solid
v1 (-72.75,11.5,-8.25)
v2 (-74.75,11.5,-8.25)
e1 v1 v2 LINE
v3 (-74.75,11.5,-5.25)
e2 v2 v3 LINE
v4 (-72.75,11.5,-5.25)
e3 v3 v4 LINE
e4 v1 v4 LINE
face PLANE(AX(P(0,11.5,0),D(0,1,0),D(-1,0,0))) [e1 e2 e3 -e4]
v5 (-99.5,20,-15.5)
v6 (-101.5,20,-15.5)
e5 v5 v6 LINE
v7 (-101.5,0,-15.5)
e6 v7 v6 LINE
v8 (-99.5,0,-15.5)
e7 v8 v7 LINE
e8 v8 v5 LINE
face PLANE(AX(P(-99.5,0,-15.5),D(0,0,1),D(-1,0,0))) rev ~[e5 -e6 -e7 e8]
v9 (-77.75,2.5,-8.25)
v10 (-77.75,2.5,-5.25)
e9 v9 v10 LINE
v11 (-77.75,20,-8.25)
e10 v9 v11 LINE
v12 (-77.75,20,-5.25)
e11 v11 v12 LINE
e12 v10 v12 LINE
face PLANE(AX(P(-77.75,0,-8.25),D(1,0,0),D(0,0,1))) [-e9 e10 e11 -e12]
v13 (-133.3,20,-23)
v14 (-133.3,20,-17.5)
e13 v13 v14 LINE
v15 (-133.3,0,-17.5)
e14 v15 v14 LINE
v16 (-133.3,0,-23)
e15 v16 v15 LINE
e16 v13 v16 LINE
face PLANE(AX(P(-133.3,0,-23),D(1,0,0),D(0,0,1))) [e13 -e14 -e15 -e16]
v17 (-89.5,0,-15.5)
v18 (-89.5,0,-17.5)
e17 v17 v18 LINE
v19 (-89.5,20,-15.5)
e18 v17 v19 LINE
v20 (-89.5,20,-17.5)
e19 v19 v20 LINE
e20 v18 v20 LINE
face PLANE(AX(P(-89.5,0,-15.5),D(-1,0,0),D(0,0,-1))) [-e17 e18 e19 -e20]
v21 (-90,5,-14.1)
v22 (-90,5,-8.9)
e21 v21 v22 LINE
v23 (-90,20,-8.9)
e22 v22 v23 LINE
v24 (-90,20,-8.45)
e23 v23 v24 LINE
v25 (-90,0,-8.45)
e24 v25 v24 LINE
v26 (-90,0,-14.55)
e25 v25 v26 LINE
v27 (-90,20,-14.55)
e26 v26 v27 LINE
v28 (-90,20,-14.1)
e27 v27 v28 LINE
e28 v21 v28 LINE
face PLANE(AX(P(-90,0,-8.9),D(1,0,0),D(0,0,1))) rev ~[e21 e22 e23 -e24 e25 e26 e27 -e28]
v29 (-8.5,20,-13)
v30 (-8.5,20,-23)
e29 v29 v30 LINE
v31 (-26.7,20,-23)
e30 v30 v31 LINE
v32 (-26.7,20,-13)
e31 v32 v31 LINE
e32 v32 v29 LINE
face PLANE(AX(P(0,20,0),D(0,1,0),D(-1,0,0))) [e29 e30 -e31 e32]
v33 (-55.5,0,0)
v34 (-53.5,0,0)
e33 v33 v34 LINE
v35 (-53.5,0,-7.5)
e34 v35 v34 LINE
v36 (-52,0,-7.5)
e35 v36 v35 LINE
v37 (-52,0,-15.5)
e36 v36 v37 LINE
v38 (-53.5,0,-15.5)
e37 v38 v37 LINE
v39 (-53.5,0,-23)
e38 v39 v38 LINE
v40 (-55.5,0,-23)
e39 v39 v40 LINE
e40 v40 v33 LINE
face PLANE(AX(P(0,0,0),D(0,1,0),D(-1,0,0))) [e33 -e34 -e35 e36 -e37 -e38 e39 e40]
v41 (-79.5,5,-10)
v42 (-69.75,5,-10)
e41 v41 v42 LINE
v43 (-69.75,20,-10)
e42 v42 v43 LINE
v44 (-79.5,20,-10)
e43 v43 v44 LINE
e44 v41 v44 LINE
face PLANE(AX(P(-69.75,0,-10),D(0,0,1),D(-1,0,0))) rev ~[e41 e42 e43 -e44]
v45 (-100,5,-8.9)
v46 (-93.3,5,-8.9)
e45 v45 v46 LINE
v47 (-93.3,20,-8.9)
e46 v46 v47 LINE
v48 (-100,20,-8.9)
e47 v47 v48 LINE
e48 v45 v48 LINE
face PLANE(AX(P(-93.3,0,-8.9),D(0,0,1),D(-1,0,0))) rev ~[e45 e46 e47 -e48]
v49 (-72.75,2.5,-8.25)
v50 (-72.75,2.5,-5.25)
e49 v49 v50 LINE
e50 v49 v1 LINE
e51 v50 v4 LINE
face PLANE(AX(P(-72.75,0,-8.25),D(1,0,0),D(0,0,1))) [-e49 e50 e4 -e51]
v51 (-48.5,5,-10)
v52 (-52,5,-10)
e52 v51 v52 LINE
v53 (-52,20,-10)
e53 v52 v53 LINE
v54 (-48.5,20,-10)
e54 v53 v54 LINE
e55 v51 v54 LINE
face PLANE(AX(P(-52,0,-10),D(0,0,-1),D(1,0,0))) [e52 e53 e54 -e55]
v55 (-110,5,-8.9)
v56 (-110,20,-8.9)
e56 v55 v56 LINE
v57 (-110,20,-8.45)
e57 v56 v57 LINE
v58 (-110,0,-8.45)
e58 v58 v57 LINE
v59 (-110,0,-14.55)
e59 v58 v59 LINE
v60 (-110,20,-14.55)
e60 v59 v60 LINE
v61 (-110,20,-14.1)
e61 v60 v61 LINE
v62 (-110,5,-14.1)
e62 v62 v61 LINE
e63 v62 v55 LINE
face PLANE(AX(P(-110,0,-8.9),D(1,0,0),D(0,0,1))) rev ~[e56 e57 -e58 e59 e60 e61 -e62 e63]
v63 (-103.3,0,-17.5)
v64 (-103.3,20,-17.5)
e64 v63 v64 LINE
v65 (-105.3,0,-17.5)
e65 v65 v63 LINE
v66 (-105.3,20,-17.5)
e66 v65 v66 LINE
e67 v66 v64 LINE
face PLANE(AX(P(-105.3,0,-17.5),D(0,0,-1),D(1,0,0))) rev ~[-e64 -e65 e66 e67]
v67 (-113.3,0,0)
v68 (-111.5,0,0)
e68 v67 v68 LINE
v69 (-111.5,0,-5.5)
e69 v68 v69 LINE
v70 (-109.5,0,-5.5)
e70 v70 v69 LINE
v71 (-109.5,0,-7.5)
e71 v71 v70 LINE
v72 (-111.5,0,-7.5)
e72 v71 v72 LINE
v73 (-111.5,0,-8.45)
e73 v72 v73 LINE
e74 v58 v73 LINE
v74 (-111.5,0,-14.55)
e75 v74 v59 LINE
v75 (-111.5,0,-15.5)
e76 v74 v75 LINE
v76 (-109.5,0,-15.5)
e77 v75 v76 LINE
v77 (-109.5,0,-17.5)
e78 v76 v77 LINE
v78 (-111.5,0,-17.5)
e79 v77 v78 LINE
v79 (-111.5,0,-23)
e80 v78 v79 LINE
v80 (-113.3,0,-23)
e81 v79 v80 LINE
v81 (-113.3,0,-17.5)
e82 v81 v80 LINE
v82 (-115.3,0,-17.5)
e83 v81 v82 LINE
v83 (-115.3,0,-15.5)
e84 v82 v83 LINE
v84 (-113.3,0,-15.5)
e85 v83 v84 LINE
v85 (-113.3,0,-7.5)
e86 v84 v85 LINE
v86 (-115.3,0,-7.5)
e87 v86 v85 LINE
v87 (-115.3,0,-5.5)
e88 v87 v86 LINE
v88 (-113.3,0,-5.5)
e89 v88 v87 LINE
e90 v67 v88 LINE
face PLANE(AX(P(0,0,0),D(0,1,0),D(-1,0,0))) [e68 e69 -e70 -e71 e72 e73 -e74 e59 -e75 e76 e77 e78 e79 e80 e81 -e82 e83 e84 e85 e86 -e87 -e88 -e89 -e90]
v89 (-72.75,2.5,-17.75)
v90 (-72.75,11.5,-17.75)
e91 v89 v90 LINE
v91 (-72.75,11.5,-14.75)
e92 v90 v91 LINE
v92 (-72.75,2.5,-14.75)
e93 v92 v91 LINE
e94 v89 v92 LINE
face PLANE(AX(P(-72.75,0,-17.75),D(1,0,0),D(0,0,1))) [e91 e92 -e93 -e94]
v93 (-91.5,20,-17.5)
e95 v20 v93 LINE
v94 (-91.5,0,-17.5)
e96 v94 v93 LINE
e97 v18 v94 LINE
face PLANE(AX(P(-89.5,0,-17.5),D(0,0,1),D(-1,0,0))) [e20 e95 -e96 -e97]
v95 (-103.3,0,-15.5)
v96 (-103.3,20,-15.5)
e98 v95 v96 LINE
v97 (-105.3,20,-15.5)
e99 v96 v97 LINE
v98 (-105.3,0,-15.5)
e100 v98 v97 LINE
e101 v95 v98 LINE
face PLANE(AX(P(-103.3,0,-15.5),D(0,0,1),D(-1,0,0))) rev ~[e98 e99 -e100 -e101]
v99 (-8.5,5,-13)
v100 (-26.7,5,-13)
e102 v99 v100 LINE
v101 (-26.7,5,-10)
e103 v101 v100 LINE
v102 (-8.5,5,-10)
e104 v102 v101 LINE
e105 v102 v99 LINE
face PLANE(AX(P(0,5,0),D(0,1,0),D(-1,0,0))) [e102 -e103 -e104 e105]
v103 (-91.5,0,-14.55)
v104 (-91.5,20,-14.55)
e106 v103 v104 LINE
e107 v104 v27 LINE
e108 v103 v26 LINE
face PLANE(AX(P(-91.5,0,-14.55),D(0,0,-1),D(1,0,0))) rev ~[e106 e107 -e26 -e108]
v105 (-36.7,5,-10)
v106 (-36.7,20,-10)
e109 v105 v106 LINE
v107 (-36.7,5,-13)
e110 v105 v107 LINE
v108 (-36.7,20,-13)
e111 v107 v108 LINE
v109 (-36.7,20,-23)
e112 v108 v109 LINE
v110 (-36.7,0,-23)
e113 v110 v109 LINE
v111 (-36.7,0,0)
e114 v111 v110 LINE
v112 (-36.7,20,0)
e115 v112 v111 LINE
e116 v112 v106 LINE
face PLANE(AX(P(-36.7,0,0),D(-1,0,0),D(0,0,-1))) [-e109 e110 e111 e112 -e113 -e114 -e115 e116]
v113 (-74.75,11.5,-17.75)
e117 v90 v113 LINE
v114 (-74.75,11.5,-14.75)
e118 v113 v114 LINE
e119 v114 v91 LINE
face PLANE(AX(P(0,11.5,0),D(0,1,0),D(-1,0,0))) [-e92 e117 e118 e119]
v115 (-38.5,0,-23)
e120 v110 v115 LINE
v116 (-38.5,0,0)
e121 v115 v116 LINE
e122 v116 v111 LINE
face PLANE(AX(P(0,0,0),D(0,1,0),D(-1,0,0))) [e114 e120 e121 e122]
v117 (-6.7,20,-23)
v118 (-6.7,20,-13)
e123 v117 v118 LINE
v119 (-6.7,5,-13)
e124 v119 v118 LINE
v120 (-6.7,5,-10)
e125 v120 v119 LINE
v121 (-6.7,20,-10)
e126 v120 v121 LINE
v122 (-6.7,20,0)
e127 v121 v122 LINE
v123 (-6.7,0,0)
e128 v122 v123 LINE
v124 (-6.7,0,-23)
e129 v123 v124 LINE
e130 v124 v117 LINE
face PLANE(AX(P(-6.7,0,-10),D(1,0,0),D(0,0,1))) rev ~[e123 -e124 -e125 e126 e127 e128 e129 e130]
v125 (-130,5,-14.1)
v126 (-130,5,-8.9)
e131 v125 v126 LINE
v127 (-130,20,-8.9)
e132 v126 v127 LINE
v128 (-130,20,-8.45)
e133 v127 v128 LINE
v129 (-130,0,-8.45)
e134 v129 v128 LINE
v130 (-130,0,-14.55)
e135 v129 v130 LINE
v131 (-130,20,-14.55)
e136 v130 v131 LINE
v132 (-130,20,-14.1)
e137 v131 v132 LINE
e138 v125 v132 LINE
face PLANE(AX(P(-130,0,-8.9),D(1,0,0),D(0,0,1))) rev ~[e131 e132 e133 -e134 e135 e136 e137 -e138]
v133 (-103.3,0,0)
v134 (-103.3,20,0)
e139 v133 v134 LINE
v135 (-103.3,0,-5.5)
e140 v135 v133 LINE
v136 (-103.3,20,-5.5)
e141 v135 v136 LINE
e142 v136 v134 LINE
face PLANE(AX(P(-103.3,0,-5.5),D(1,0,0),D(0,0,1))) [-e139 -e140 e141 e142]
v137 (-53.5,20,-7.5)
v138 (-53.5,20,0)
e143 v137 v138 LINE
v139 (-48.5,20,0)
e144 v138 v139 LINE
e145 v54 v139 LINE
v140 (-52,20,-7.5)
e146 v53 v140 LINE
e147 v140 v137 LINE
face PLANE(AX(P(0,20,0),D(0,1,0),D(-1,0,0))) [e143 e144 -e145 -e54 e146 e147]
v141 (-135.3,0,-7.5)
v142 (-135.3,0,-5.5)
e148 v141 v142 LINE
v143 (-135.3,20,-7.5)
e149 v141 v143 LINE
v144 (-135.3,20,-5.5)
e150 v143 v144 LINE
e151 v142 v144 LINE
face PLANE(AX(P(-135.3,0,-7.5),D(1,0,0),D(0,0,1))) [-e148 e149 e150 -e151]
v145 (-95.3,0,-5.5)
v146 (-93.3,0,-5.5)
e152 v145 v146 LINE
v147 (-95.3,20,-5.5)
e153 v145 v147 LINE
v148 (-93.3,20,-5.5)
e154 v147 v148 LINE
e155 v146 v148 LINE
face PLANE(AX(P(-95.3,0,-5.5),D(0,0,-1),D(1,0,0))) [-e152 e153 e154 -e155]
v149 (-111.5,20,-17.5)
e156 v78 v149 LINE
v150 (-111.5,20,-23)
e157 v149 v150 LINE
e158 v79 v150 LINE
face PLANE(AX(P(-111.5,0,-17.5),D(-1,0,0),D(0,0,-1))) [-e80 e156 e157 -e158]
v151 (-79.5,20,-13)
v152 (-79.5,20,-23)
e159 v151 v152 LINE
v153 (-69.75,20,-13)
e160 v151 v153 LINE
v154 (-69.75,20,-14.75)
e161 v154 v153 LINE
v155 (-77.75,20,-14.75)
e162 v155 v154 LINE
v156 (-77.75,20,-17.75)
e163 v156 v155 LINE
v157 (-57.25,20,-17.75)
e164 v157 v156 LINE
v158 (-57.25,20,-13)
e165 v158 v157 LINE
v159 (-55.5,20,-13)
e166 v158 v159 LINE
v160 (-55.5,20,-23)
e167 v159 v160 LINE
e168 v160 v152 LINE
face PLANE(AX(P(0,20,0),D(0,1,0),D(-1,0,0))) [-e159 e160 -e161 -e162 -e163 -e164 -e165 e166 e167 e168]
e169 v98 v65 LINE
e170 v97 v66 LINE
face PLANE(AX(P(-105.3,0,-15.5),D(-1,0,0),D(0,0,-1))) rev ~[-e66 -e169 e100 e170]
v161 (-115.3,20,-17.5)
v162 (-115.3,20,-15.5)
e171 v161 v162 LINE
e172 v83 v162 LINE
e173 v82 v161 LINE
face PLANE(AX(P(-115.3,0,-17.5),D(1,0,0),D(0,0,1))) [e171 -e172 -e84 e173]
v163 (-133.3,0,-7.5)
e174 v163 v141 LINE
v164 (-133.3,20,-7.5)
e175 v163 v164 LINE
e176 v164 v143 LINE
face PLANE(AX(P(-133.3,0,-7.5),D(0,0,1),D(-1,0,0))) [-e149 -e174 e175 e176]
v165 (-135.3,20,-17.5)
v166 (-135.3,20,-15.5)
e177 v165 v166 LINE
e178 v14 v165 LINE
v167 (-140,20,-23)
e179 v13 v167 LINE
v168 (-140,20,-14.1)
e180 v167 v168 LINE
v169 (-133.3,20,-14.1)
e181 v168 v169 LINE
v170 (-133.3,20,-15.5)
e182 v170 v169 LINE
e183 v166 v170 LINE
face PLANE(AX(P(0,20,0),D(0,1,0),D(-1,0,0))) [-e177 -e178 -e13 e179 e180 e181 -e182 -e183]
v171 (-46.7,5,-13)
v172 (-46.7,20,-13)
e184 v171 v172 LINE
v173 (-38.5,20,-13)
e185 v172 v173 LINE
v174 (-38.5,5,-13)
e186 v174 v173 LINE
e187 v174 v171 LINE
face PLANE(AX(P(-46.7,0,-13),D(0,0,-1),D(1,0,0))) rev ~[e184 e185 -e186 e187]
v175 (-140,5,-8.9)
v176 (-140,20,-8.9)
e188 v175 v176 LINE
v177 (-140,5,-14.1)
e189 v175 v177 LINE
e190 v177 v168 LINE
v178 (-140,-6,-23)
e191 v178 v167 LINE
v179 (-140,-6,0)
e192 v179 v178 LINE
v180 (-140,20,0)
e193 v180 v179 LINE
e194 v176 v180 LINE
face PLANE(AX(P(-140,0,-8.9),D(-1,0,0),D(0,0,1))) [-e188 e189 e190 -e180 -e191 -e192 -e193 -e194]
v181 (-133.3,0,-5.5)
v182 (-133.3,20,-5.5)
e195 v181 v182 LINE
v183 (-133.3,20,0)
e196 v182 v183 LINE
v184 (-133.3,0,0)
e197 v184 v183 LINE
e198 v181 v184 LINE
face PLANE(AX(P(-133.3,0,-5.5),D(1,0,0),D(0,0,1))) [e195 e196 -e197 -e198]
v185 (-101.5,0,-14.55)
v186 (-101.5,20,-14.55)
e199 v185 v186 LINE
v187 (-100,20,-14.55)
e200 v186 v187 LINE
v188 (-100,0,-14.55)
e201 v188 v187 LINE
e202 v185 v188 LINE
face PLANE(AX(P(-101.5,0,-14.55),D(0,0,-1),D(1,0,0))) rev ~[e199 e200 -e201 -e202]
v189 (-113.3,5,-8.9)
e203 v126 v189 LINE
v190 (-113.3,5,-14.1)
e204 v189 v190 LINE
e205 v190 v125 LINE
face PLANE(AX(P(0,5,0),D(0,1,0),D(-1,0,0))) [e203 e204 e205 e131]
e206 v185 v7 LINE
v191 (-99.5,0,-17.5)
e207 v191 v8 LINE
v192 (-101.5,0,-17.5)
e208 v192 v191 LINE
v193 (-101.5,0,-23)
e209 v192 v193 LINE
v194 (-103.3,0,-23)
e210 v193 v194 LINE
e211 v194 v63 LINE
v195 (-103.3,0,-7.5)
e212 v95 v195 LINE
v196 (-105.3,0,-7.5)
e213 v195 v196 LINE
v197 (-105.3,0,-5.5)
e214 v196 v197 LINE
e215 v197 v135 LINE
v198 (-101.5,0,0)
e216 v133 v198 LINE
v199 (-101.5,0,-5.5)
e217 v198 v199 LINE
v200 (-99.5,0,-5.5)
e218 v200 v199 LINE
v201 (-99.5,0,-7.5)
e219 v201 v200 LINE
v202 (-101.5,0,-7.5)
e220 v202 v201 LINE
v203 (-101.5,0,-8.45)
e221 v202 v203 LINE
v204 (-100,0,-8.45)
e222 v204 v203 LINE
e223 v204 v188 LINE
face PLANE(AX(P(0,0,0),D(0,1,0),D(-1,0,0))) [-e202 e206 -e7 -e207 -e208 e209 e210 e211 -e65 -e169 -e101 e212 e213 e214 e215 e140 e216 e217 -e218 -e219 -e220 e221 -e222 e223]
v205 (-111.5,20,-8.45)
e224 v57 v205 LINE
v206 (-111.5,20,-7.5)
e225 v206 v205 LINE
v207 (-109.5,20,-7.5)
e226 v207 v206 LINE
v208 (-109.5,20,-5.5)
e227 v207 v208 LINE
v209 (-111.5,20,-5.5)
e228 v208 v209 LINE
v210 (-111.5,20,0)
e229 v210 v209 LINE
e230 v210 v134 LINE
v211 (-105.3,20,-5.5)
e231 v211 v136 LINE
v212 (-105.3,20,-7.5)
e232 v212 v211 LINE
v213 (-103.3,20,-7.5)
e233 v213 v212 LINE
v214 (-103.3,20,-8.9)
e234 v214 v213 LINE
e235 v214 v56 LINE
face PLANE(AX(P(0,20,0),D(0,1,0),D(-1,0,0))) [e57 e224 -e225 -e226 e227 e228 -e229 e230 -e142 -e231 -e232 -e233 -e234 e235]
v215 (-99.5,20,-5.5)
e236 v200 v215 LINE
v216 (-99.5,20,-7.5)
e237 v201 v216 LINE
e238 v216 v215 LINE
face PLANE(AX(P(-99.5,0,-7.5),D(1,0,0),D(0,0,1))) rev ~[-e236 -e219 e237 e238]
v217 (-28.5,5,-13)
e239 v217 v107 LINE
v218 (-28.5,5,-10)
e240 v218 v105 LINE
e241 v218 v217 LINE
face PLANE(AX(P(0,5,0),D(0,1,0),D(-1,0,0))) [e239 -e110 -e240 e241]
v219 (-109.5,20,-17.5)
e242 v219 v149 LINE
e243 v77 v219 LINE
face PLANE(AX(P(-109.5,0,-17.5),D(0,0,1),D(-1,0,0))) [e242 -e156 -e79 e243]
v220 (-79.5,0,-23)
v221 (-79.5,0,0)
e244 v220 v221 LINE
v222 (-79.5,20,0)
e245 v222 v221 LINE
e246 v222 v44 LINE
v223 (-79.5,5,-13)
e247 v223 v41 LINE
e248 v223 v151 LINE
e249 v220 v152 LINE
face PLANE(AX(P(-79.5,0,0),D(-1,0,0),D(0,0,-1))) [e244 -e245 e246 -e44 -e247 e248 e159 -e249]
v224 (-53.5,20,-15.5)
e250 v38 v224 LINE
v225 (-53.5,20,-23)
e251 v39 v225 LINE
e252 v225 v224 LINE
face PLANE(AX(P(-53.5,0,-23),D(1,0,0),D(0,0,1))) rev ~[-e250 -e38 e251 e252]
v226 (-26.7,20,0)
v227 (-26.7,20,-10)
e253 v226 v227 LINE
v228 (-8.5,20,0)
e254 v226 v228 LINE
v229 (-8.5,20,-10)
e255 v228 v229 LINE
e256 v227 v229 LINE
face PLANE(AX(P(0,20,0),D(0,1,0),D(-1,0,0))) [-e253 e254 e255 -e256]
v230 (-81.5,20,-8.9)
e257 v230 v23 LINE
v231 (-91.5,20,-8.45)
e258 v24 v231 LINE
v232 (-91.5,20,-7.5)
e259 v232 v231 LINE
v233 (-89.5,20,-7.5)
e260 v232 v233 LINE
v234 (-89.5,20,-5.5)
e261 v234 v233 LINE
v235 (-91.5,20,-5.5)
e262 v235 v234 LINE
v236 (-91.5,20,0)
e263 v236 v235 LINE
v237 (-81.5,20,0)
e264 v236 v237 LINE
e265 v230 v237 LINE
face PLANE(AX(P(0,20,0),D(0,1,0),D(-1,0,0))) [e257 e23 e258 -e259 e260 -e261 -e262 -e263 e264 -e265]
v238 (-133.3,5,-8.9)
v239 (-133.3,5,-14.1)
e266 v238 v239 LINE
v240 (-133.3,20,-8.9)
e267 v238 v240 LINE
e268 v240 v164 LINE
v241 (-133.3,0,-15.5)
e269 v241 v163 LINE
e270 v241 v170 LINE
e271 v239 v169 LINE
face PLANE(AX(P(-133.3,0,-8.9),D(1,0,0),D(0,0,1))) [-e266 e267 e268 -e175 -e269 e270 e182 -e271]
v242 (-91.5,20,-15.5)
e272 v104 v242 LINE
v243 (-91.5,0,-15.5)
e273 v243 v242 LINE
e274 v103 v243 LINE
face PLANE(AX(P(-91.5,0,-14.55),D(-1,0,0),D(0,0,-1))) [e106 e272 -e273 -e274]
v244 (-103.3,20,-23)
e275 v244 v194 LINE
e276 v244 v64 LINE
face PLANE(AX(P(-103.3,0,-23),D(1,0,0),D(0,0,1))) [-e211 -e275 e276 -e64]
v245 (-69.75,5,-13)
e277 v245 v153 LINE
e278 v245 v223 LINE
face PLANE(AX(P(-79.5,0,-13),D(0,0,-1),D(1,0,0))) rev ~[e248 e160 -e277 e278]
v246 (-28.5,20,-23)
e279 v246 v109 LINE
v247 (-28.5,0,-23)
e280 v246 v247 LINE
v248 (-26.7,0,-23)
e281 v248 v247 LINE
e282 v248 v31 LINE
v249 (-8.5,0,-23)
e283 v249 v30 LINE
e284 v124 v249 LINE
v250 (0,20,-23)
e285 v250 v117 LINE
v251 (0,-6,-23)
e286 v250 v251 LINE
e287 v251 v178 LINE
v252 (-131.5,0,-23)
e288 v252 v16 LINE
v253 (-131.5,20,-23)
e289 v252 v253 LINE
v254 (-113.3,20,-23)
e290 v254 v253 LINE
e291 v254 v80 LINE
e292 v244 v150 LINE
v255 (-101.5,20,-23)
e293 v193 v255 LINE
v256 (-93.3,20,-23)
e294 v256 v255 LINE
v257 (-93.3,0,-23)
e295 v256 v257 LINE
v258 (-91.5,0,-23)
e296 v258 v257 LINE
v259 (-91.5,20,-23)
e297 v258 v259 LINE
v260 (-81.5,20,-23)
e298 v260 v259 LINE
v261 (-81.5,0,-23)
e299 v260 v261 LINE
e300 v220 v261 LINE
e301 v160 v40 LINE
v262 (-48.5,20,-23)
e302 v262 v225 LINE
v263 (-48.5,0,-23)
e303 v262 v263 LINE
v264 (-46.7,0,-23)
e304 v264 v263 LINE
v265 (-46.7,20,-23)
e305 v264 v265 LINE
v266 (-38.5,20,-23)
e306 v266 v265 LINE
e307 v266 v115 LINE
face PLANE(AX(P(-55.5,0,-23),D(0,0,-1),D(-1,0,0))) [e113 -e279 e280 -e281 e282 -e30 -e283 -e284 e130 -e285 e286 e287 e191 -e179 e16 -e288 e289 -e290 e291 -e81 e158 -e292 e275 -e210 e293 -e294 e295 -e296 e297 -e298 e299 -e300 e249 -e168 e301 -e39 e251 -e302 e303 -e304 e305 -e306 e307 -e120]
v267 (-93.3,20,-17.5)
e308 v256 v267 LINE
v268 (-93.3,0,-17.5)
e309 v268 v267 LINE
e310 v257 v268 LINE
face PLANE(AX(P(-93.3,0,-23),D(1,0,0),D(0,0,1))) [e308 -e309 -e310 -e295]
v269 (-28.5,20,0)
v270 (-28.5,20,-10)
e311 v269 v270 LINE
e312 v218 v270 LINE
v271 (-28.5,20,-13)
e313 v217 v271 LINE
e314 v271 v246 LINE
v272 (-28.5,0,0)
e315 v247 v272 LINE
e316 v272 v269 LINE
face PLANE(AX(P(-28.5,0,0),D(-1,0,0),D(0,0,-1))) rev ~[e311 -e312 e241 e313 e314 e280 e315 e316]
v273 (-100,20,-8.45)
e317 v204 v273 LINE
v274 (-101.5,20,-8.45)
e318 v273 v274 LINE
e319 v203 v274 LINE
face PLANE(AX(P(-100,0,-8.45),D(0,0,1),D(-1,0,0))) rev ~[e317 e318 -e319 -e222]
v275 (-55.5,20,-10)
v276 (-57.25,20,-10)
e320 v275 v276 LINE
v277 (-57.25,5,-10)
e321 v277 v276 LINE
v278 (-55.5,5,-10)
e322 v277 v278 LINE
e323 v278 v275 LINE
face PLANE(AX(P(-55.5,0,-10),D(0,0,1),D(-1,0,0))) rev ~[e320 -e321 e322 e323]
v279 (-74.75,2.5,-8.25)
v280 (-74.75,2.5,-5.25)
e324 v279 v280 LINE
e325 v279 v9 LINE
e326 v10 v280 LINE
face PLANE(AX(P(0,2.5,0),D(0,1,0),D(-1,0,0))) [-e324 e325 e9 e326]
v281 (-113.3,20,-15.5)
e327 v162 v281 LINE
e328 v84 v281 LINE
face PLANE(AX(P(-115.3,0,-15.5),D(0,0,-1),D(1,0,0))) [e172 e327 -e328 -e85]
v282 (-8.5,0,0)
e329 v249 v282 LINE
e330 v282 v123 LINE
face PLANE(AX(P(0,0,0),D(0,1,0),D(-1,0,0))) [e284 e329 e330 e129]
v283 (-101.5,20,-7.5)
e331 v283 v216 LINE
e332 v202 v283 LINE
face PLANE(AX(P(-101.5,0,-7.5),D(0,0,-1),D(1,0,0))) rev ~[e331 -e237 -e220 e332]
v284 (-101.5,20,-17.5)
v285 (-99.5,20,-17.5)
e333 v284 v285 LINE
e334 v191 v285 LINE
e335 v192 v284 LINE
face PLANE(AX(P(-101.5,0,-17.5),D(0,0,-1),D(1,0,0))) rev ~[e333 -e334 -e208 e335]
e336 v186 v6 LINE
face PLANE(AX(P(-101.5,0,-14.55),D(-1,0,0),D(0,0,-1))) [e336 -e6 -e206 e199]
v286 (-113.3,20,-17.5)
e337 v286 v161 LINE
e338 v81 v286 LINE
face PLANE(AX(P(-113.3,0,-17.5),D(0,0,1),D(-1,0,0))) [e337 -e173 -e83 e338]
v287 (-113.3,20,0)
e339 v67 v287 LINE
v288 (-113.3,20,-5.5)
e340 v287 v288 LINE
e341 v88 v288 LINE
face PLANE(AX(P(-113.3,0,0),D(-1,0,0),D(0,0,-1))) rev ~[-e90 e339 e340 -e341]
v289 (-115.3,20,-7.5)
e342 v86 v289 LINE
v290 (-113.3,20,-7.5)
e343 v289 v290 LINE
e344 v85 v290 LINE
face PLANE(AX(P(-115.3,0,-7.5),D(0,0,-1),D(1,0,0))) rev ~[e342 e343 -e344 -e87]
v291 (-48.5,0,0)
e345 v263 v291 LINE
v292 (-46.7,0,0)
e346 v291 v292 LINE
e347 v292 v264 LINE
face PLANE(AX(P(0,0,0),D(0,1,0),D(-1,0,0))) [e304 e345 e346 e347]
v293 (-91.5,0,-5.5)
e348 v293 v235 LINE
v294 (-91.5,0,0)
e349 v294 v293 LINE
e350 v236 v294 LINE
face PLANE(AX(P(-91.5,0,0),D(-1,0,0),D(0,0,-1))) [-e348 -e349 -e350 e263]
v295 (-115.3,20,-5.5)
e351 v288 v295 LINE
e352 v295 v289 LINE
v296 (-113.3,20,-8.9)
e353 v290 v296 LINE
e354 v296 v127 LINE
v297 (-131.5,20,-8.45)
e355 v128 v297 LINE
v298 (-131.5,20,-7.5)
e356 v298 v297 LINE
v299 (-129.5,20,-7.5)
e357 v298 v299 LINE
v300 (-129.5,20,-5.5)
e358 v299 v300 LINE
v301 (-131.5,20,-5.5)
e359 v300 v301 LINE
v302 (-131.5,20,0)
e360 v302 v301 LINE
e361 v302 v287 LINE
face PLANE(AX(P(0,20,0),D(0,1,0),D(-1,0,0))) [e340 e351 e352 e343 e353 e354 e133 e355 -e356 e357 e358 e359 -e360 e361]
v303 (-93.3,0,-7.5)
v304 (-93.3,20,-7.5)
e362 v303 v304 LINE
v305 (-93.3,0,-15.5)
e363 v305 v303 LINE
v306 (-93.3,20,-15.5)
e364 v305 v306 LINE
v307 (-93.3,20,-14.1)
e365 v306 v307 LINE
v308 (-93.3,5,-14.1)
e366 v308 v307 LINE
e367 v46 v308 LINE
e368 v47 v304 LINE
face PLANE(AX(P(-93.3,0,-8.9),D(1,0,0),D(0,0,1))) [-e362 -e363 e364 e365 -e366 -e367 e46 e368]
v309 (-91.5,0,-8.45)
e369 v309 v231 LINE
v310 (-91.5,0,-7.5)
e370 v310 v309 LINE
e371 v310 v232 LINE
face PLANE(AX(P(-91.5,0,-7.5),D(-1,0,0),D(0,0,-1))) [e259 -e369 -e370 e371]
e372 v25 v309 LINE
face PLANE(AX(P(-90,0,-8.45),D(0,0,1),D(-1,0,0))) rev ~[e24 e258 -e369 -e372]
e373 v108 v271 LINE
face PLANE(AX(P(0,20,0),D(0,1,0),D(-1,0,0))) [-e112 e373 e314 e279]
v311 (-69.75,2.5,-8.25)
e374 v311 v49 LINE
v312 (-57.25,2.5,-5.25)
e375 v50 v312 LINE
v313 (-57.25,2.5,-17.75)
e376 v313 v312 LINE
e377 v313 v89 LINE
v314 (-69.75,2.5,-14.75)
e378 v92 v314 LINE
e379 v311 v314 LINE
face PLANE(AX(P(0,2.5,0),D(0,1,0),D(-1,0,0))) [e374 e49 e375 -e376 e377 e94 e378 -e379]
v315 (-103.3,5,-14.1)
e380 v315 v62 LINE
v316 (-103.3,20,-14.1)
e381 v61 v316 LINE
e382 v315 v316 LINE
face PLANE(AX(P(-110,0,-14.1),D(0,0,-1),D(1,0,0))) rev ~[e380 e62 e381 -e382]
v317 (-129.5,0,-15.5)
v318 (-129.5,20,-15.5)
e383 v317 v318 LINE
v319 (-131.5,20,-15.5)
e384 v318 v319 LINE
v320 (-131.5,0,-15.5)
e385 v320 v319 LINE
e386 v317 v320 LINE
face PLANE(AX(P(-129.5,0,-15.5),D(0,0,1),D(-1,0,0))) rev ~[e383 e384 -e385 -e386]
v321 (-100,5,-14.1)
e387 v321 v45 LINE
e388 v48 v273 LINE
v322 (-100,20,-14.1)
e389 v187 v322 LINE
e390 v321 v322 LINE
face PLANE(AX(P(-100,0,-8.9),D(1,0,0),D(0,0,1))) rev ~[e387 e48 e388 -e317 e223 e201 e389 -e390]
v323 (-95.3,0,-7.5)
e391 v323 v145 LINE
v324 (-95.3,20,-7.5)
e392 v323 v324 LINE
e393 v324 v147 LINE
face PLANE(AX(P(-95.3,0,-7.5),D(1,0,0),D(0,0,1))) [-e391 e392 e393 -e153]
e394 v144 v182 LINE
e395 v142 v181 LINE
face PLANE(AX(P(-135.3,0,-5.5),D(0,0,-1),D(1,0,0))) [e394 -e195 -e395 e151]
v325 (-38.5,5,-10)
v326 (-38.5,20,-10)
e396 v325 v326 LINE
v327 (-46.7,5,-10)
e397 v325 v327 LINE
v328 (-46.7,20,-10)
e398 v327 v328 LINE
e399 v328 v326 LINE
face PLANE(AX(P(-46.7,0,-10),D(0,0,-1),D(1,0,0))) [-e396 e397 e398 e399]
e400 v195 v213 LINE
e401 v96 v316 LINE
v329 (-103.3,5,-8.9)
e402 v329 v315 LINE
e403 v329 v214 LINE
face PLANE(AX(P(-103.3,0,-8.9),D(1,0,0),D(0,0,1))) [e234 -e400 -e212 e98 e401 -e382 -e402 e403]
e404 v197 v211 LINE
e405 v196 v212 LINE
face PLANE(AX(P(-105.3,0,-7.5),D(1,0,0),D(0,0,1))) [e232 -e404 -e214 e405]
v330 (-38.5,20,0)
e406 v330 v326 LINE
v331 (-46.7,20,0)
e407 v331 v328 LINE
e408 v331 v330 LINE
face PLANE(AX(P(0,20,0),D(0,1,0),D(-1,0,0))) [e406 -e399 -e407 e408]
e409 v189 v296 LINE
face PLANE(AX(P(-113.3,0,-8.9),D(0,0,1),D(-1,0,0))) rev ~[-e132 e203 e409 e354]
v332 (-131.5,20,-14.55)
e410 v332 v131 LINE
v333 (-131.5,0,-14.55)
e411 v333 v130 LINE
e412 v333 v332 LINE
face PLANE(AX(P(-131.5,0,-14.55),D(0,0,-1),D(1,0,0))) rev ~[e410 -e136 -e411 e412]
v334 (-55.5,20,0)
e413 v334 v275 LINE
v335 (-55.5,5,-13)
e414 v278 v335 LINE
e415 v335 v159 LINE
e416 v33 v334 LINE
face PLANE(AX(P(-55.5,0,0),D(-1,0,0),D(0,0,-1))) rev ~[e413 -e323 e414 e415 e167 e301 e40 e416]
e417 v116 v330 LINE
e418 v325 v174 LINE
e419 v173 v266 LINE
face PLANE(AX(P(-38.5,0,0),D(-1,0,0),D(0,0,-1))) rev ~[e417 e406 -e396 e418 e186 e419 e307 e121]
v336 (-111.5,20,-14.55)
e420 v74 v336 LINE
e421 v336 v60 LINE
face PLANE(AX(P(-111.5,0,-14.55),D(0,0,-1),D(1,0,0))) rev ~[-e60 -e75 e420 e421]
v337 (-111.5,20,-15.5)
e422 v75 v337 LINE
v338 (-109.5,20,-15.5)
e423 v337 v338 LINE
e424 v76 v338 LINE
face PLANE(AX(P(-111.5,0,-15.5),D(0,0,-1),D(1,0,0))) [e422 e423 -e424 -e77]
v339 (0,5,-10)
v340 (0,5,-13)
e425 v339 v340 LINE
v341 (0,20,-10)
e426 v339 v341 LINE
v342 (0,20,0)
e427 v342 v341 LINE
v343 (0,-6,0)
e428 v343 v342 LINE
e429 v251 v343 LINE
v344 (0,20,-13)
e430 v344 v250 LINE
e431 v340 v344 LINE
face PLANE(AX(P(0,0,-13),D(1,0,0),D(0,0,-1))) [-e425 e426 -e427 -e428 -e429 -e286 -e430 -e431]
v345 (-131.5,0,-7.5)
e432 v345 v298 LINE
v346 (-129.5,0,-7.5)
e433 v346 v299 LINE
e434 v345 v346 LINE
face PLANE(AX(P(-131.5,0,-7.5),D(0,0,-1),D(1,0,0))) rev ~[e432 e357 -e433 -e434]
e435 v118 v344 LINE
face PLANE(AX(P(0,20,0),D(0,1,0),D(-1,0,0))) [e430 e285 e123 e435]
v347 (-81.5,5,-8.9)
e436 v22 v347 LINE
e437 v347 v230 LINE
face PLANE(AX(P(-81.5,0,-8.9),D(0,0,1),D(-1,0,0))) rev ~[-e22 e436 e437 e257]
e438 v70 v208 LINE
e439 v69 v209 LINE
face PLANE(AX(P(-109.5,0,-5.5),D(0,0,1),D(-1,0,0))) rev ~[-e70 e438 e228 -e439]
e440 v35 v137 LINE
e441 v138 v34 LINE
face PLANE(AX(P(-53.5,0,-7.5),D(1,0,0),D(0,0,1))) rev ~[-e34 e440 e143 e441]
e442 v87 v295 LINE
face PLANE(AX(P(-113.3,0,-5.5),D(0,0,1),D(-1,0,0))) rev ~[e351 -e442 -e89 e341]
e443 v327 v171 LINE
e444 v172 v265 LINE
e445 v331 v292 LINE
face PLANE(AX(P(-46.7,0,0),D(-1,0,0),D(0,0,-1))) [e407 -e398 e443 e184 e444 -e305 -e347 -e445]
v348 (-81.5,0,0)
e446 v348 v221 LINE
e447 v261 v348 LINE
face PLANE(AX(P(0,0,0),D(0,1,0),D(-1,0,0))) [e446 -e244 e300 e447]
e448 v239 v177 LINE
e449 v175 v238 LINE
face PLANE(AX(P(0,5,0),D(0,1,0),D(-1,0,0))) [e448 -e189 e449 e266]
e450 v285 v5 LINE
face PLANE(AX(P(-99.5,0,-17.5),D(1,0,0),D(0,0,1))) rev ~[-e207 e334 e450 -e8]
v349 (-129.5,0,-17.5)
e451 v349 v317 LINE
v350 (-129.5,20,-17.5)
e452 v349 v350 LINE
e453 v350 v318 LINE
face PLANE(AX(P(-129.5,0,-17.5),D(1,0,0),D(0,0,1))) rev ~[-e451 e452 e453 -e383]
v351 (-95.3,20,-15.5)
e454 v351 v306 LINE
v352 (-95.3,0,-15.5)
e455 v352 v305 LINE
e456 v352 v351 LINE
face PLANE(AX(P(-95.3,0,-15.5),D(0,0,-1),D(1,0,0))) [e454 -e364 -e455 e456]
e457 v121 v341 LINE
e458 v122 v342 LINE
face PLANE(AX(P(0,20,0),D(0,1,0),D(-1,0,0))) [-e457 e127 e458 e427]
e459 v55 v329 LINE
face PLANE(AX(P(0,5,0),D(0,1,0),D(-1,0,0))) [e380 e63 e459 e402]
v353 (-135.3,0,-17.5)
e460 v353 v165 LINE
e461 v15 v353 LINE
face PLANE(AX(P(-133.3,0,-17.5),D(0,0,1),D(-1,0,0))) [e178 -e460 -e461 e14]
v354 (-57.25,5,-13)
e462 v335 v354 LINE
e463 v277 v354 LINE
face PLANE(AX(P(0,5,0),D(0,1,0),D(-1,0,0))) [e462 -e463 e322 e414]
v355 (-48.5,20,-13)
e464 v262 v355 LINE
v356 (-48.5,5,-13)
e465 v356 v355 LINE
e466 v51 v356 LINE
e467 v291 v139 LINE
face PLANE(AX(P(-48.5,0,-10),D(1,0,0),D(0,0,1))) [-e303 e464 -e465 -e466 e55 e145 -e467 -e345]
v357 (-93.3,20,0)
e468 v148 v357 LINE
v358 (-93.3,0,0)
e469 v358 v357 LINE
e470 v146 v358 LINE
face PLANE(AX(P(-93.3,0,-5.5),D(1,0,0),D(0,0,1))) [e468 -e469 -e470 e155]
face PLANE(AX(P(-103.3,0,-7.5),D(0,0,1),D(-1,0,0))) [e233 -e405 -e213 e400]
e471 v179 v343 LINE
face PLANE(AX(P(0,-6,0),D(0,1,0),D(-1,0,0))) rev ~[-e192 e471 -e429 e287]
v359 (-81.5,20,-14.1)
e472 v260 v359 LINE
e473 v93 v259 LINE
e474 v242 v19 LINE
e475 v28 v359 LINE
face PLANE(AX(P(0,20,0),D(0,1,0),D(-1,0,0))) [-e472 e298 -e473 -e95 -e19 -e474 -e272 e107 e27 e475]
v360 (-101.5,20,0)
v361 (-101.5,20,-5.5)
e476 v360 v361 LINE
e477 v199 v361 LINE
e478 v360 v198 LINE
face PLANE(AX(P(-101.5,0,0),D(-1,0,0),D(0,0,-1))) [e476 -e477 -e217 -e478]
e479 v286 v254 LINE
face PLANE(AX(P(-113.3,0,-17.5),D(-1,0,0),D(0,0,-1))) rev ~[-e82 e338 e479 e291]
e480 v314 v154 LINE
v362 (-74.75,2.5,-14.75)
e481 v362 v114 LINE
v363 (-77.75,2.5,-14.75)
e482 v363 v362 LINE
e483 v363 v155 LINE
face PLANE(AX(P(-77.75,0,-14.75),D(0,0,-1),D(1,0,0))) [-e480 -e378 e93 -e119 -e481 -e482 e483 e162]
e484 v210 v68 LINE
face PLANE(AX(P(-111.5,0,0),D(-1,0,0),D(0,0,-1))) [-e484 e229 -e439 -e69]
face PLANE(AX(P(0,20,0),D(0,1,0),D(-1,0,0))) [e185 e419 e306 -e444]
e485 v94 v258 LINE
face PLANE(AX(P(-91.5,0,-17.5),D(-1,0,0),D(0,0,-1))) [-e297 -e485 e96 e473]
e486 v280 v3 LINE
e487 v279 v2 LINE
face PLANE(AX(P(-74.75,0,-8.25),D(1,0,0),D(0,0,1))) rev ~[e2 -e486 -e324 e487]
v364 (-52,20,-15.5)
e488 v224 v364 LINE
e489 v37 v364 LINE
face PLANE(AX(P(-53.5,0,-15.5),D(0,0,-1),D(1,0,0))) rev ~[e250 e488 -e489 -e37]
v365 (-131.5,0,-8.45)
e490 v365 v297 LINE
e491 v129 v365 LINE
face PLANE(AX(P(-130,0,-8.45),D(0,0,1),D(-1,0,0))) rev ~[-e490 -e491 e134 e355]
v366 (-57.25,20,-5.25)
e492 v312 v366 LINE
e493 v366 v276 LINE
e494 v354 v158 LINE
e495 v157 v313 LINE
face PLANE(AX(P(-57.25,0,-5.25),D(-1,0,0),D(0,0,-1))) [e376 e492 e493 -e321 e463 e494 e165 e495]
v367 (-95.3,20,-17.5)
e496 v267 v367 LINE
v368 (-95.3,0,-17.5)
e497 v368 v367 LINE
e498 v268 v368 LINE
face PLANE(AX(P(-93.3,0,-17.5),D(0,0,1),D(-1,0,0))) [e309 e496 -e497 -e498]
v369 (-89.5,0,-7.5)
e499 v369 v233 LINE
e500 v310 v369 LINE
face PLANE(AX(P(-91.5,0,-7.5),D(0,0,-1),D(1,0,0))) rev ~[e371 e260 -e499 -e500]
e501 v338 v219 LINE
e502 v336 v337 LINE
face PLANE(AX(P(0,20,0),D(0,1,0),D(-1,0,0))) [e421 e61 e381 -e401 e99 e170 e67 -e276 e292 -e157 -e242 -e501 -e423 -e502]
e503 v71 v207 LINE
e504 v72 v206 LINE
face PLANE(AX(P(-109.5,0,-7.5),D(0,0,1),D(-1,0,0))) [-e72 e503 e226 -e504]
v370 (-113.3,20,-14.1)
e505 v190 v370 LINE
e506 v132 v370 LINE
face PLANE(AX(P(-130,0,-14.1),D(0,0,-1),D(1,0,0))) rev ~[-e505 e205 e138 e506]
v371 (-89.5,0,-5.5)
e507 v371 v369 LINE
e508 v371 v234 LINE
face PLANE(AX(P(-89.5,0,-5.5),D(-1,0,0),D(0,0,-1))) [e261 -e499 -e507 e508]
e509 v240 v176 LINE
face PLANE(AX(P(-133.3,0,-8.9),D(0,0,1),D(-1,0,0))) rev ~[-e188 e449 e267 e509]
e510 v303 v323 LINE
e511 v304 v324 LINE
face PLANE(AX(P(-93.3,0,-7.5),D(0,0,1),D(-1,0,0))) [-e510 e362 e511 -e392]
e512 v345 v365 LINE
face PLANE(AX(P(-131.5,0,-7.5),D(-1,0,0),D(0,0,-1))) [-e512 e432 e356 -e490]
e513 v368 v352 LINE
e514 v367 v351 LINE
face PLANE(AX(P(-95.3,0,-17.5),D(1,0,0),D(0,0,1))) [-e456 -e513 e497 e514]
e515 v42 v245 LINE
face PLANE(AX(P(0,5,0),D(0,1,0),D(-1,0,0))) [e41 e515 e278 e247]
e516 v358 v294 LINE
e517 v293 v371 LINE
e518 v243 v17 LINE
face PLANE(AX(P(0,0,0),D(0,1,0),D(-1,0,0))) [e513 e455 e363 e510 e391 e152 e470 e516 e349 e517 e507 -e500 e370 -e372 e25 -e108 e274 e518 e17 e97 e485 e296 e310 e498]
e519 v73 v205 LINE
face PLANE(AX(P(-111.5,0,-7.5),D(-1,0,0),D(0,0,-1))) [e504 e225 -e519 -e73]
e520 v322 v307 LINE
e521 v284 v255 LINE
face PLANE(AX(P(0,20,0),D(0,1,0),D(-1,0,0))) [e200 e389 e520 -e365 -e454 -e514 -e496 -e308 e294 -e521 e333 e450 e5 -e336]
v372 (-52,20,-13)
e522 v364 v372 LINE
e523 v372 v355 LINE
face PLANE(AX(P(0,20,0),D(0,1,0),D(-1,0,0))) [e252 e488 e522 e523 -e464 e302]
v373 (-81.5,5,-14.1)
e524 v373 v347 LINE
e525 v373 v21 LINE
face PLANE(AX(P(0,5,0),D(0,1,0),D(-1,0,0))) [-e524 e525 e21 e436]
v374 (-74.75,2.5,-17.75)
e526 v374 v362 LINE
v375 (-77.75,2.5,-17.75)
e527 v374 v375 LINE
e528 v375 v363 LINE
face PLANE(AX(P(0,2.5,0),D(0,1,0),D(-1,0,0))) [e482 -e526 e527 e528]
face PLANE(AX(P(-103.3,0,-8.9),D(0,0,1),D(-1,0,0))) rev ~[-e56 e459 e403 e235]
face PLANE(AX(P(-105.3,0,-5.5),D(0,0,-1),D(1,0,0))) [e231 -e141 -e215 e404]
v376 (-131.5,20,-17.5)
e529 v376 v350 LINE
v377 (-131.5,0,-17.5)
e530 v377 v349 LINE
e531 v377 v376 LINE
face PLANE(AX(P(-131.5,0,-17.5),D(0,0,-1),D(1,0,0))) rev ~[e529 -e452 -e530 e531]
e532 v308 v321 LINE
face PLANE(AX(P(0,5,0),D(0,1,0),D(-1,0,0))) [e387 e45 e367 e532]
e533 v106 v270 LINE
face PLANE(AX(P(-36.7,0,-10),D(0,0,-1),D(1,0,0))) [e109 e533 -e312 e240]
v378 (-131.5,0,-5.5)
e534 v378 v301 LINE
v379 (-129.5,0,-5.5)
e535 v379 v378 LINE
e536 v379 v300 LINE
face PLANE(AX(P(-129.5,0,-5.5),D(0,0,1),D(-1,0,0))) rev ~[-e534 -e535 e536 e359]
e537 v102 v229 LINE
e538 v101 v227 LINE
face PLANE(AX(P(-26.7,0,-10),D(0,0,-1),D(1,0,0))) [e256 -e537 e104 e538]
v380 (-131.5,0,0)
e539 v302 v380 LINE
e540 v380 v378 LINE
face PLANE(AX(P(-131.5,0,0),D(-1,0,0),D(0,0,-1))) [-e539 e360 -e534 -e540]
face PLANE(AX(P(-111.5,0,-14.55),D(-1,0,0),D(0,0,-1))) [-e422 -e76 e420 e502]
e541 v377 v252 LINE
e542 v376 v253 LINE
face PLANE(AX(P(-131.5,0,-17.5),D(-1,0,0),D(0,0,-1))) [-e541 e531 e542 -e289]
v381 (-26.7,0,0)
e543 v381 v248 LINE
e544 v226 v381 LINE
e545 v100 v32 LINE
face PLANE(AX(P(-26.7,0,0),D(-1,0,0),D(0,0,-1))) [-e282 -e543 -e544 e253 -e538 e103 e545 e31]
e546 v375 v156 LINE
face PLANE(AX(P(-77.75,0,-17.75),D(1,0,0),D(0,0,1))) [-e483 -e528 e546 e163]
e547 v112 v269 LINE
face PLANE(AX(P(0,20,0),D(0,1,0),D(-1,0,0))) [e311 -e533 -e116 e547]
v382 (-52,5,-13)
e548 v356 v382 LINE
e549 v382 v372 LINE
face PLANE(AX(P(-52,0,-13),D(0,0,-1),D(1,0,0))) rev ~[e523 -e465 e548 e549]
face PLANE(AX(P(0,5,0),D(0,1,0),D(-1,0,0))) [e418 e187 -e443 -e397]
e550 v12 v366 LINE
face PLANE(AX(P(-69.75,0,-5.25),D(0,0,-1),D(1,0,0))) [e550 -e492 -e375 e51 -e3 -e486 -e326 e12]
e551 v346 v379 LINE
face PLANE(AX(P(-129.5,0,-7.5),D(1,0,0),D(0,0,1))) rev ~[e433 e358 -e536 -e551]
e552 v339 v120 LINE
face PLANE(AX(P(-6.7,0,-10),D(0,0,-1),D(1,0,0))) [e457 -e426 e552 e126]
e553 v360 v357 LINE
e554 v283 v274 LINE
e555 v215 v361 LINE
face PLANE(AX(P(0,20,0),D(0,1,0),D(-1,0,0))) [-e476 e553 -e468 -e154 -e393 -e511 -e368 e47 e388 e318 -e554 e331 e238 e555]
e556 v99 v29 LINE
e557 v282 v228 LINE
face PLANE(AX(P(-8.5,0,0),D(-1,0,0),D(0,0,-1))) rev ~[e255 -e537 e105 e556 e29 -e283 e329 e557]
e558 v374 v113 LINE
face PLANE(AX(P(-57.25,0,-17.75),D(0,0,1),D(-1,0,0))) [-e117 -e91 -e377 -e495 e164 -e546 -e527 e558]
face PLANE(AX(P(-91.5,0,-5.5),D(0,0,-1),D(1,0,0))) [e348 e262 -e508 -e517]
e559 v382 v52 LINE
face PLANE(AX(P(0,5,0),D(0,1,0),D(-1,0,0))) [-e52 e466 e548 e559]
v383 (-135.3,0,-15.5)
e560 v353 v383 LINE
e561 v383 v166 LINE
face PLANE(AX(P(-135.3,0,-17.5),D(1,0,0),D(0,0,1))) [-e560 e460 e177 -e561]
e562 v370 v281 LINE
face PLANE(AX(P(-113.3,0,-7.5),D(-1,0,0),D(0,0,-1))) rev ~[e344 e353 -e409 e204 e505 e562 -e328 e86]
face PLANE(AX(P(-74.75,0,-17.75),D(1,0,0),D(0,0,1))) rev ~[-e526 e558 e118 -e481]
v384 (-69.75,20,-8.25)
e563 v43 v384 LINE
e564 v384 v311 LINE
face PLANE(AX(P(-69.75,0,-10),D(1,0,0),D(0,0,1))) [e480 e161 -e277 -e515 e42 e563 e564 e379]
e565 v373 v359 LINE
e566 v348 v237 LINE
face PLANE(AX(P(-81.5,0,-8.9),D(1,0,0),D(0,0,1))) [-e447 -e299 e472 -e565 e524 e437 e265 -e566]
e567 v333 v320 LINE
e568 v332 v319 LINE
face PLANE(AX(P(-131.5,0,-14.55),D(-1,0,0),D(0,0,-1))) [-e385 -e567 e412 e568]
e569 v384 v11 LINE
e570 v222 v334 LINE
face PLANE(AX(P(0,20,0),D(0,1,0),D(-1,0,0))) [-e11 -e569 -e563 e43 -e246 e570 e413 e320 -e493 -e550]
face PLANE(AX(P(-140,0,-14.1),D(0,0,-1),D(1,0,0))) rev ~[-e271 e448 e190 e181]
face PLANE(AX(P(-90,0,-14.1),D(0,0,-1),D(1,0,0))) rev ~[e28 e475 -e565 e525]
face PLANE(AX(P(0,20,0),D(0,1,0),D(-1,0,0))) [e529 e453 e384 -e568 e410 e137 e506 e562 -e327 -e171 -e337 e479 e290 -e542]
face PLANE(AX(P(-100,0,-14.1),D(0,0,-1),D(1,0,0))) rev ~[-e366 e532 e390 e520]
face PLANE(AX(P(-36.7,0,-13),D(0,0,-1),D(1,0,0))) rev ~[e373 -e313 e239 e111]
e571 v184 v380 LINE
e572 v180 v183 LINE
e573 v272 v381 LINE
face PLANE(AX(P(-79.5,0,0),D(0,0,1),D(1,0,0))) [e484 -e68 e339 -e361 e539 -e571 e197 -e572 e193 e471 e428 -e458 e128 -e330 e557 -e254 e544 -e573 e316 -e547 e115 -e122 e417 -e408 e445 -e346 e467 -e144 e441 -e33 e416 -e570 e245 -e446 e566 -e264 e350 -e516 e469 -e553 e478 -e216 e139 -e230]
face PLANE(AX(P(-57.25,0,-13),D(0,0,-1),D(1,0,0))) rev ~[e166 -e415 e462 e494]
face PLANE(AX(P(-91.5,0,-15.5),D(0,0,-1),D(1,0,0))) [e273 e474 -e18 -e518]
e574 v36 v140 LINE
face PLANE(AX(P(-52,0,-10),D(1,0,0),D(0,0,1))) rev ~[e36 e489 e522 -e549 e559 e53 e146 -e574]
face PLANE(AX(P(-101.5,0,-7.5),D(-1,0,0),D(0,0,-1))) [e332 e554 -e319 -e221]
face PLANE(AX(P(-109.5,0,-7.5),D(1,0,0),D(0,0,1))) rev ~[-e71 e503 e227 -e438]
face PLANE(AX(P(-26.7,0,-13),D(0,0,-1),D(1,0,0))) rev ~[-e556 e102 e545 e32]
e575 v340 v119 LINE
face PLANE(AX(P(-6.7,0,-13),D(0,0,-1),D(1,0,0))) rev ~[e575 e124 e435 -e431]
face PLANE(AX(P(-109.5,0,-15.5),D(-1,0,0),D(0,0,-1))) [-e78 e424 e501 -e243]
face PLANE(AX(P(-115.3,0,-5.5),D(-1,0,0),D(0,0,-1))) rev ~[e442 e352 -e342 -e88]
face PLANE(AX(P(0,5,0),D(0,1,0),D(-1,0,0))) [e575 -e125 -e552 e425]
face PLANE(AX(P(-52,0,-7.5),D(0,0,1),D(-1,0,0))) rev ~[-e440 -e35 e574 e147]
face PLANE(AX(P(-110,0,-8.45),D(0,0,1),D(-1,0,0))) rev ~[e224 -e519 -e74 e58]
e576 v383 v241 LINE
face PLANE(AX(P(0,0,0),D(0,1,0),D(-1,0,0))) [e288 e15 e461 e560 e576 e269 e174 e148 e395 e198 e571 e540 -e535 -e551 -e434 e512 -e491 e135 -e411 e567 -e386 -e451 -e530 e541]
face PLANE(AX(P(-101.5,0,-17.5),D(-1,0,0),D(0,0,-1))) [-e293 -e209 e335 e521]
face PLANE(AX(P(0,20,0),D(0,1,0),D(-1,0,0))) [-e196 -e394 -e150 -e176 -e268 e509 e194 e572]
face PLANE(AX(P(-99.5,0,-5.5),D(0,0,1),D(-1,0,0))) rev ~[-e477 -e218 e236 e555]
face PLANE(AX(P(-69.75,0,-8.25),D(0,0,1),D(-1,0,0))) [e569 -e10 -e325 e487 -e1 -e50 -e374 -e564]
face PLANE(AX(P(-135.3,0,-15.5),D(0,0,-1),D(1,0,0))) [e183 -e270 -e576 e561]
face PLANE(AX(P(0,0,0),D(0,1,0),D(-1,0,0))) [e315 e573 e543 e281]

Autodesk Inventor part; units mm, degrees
ref_plane "YZ Plane" through (0, 0, 0) normal (1, 0, 0) x (0, 1, 0)
ref_plane "XZ Plane" through (0, 0, 0) normal (0, 1, 0) x (-1, 0, 0)
ref_plane "XY Plane" through (0, 0, 0) normal (0, 0, 1) x (1, 0, 0)
sketch "Sketch1" plane through (0, 0, 0) normal (0, 1, 0) x (-1, 0, 0)
  line L0 (69.75, -5.25) -> (57.25, -5.25)
  line L1 (57.25, -5.25) -> (57.25, -17.75)
  line L2 (57.25, -17.75) -> (69.75, -17.75)
  line L3 (69.75, -17.75) -> (69.75, -5.25)
  line L4 (140, 0) -> (0, 0)
  line L5 (0, 0) -> (0, -23)
  line L6 (0, -23) -> (140, -23)
  line L7 (140, -23) -> (140, 0)
  line L8 (77.3838, -11.5) -> (49.3838, -11.5) construction
  line L9 (63.5, -2.25) -> (63.5, -23.25) construction
  line L10 (81.5, -8.9) -> (140, -8.9)
  line L11 (140, -14.1) -> (81.5, -14.1)
  line L12 (48.5, -23) -> (48.5, 0)
  line L13 (46.7, 0) -> (46.7, -23)
  line L14 (38.5, 0) -> (38.5, -23)
  line L15 (36.7, 0) -> (36.7, -23)
  line L16 (28.5, 0) -> (28.5, -23)
  line L17 (26.7, 0) -> (26.7, -23)
  line L18 (8.5, 0) -> (8.5, -23)
  line L19 (6.7, -23) -> (6.7, 0)
  line L20 (52, -10) -> (0, -10)
  line L21 (52, -13) -> (0, -13)
  line L22 (91.5, -14.55) -> (90, -14.55)
  line L23 (90, -14.55) -> (90, -8.45)
  line L24 (90, -8.45) -> (91.5, -8.45)
  line L25 (101.5, -14.55) -> (100, -14.55)
  line L26 (100, -14.55) -> (100, -8.45)
  line L27 (100, -8.45) -> (101.5, -8.45)
  line L28 (111.5, -14.55) -> (110, -14.55)
  line L29 (110, -14.55) -> (110, -8.45)
  line L30 (110, -8.45) -> (111.5, -8.45)
  line L31 (131.5, -14.55) -> (130, -14.55)
  line L32 (130, -14.55) -> (130, -8.45)
  line L33 (130, -8.45) -> (131.5, -8.45)
  line L34 (79.5, 0) -> (79.5, -23)
  line L35 (81.5, -23) -> (81.5, 0)
  line L36 (55.5, 0) -> (55.5, -23)
  line L37 (79.5, -13) -> (69.75, -13)
  line L38 (69.75, -10) -> (79.5, -10)
  line L39 (57.25, -13) -> (55.5, -13)
  line L40 (55.5, -10) -> (57.25, -10)
  line L41 (53.5, -15.5) -> (52, -15.5)
  line L42 (52, -15.5) -> (52, -7.5)
  line L43 (52, -7.5) -> (53.5, -7.5)
  line L44 (53.5, -23) -> (53.5, -15.5)
  line L45 (53.5, -7.5) -> (53.5, 0)
  line L46 (131.5, -17.5) -> (129.5, -17.5)
  line L47 (129.5, -17.5) -> (129.5, -15.5)
  line L48 (129.5, -15.5) -> (131.5, -15.5)
  line L49 (131.5, -7.5) -> (129.5, -7.5)
  line L50 (129.5, -7.5) -> (129.5, -5.5)
  line L51 (129.5, -5.5) -> (131.5, -5.5)
  line L52 (137, -16.5) -> (85, -16.5) construction
  line L53 (137, -6.5) -> (84.6621, -6.5) construction
  line L54 (133.3, -17.5) -> (135.3, -17.5)
  line L55 (135.3, -17.5) -> (135.3, -15.5)
  line L56 (135.3, -15.5) -> (133.3, -15.5)
  line L57 (133.3, -7.5) -> (135.3, -7.5)
  line L58 (135.3, -7.5) -> (135.3, -5.5)
  line L59 (135.3, -5.5) -> (133.3, -5.5)
  line L60 (133.3, -23) -> (133.3, -17.5)
  line L61 (131.5, -17.5) -> (131.5, -23)
  line L62 (133.3, -15.5) -> (133.3, -7.5)
  line L63 (133.3, -5.5) -> (133.3, 0)
  line L64 (131.5, 0) -> (131.5, -5.5)
  line L65 (131.5, -7.5) -> (131.5, -15.5)
  line L66 (111.5, -15.5) -> (109.5, -15.5)
  line L67 (109.5, -15.5) -> (109.5, -17.5)
  line L68 (115.3, -17.5) -> (115.3, -15.5)
  line L69 (115.3, -15.5) -> (113.3, -15.5)
  line L70 (113.3, -5.5) -> (115.3, -5.5)
  line L71 (115.3, -5.5) -> (115.3, -7.5)
  line L72 (115.3, -7.5) -> (113.3, -7.5)
  line L73 (109.5, -7.5) -> (109.5, -5.5)
  line L74 (109.5, -7.5) -> (111.5, -7.5)
  line L75 (109.5, -5.5) -> (111.5, -5.5)
  line L76 (109.5, -17.5) -> (111.5, -17.5)
  line L77 (113.3, -17.5) -> (115.3, -17.5)
  line L78 (113.3, -17.5) -> (113.3, -23)
  line L79 (111.5, -17.5) -> (111.5, -23)
  line L80 (113.3, 0) -> (113.3, -5.5)
  line L81 (113.3, -7.5) -> (113.3, -15.5)
  line L82 (111.5, 0) -> (111.5, -5.5)
  line L83 (111.5, -7.5) -> (111.5, -15.5)
  line L84 (99.5, -17.5) -> (99.5, -15.5)
  line L85 (105.3, -15.5) -> (105.3, -17.5)
  line L86 (105.3, -17.5) -> (103.3, -17.5)
  line L87 (101.5, -17.5) -> (99.5, -17.5)
  line L88 (99.5, -15.5) -> (101.5, -15.5)
  line L89 (103.3, -15.5) -> (105.3, -15.5)
  line L90 (103.3, -7.5) -> (105.3, -7.5)
  line L91 (105.3, -7.5) -> (105.3, -5.5)
  line L92 (105.3, -5.5) -> (103.3, -5.5)
  line L93 (101.5, -7.5) -> (99.5, -7.5)
  line L94 (99.5, -7.5) -> (99.5, -5.5)
  line L95 (99.5, -5.5) -> (101.5, -5.5)
  line L96 (103.3, -23) -> (103.3, -17.5)
  line L97 (101.5, -17.5) -> (101.5, -23)
  line L98 (103.3, -15.5) -> (103.3, -7.5)
  line L99 (103.3, -5.5) -> (103.3, 0)
  line L100 (101.5, 0) -> (101.5, -5.5)
  line L101 (101.5, -7.5) -> (101.5, -15.5)
  line L102 (91.5, -15.5) -> (89.5, -15.5)
  line L103 (89.5, -15.5) -> (89.5, -17.5)
  line L104 (89.5, -17.5) -> (91.5, -17.5)
  line L105 (93.3, -17.5) -> (95.3, -17.5)
  line L106 (95.3, -17.5) -> (95.3, -15.5)
  line L107 (95.3, -15.5) -> (93.3, -15.5)
  line L108 (93.3, -7.5) -> (95.3, -7.5)
  line L109 (95.3, -7.5) -> (95.3, -5.5)
  line L110 (95.3, -5.5) -> (93.3, -5.5)
  line L111 (91.5, -5.5) -> (89.5, -5.5)
  line L112 (89.5, -5.5) -> (89.5, -7.5)
  line L113 (91.5, -7.5) -> (89.5, -7.5)
  line L114 (93.3, -23) -> (93.3, -17.5)
  line L115 (91.5, -17.5) -> (91.5, -23)
  line L116 (93.3, -15.5) -> (93.3, -7.5)
  line L117 (93.3, -5.5) -> (93.3, 0)
  line L118 (91.5, 0) -> (91.5, -5.5)
  line L119 (91.5, -7.5) -> (91.5, -15.5)
  line L120 (69.75, -17.75) -> (77.75, -17.75)
  line L121 (77.75, -17.75) -> (77.75, -14.75)
  line L122 (77.75, -14.75) -> (69.75, -14.75)
  line L123 (69.75, -8.25) -> (77.75, -8.25)
  line L124 (77.75, -8.25) -> (77.75, -5.25)
  line L125 (77.75, -5.25) -> (69.75, -5.25)
  line L126 (72.75, -17.75) -> (72.75, -14.75)
  line L127 (74.75, -17.75) -> (74.75, -14.75)
  line L128 (74.75, -8.25) -> (74.75, -5.25)
  line L129 (72.75, -8.25) -> (72.75, -5.25)
  point P0 (133.3, -8.9)
  point P1 (133.3, -14.1)
  point P2 (131.5, -8.9)
  point P3 (131.5, -14.1)
  point P4 (113.3, -8.9)
  point P5 (111.5, -8.9)
  point P6 (113.3, -14.1)
  point P7 (111.5, -14.1)
  point P8 (103.3, -8.9)
  point P9 (101.5, -8.9)
  point P10 (103.3, -14.1)
  point P11 (101.5, -14.1)
  point P12 (93.3, -8.9)
  point P13 (91.5, -8.9)
  point P14 (93.3, -14.1)
  point P15 (91.5, -14.1)
  point P16 (48.5, -10)
  point P17 (46.7, -10)
  point P18 (48.5, -13)
  point P19 (46.7, -13)
  point P20 (38.5, -13)
  point P21 (36.7, -13)
  point P22 (36.7, -10)
  point P23 (38.5, -10)
  point P24 (28.5, -10)
  point P25 (26.7, -10)
  point P26 (26.7, -13)
  point P27 (28.5, -13)
  point P28 (8.5, -13)
  point P29 (6.7, -13)
  point P30 (6.7, -10)
  point P31 (8.5, -10)
  point P32 (63.5, -11.5)
  point P33 (90, -14.1)
  point P34 (90, -8.9)
  point P35 (130, -14.1)
  point P36 (130, -8.9)
  point P37 (110, -14.1)
  point P38 (110, -8.9)
  point P39 (100, -8.9)
  point P40 (100, -14.1)
  dimension "d12" = 5.2
  dimension "d25" = 3
  dimension "d0" = 12.5
  dimension "d1" = 12.5
  dimension "d3" = 23
  dimension "d18" = 1.8
  dimension "d20" = 1.8
  dimension "d22" = 1.8
  dimension "d24" = 1.8
  dimension "d36" = 6.1
  dimension "d37" = 1.5
  dimension "d43" = 2
  dimension "d62" = 3
  dimension "d63" = 3
  dimension "d70" = 60.5
  dimension "d71" = 7
  dimension "d72" = 17
  dimension "d73" = 27
  dimension "d74" = 47
  dimension "d75" = 55.5
  dimension "d91" = 8
  dimension "d92" = 1.5
  dimension "d93" = 2
  dimension "d94" = 2
  dimension "d95" = 2
  dimension "d96" = 10
  dimension "d97" = 1.8
  dimension "d98" = 52
  dimension "d99" = 1.8
  dimension "d100" = 32
  dimension "d101" = 1.8
  dimension "d102" = 22
  dimension "d103" = 1.8
  dimension "d104" = 12
  dimension "d105" = 8
  dimension "d106" = 8
  dimension "d107" = 3
  dimension "d108" = 2
  dimension "d109" = 3
  dimension "d110" = 16
extrude "Extrusion10" add sketch "Sketch1" against normal blind 6
extrude "Extrusion12" add sketch "Sketch1" along normal blind 5 contours L0 L1 L40 L36 L4 L34 L38 L3 L123 L124 L125 | L1 L39 L36 L40 | L38 L34 L37 L3 | L1 L2 L120 L121 L122 L3 L37 L34 L6 L36 L39 | L45 L43 L42 L20 L12 L4 | L4 L118 L111 L112 L113 L119 L24 L23 L10 L35 | L6 L12 L21 L42 L41 L44 | L35 L11 L23 L22 L119 L102 L103 L104 L115 L6 | L10 L23 L11 L35 | L13 L20 L14 L4 | L20 L42 L21 L12 | L4 L100 L95 L94 L93 L101 L27 L26 L10 L116 L108 L109 L110 L117 | L6 L14 L21 L13 | L13 L21 L14 L20 | L114 L105 L106 L107 L116 L11 L26 L25 L101 L88 L84 L87 L97 L6 | L15 L20 L16 L4 | L4 L82 L75 L73 L74 L83 L30 L29 L10 L98 L90 L91 L92 L99 | L10 L26 L11 L116 | L6 L16 L21 L15 | L15 L21 L16 L20 | L96 L86 L85 L89 L98 L11 L29 L28 L83 L66 L67 L76 L79 L6 | L17 L20 L18 L4 | L4 L64 L51 L50 L49 L65 L33 L32 L10 L81 L72 L71 L70 L80 | L6 L18 L21 L17 | L17 L21 L18 L20 | L78 L77 L68 L69 L81 L11 L32 L31 L65 L48 L47 L46 L61 L6 | L10 L29 L11 L98 | L19 L20 L5 L4 | L4 L7 L10 L62 L57 L58 L59 L63 | L6 L5 L21 L19 | L19 L21 L5 L20 | L60 L54 L55 L56 L62 L11 L7 L6 | L7 L11 L62 L10 | L10 L32 L11 L81
extrude "Extrusion13" add sketch "Sketch1" along normal blind 20 contours L0 L1 L40 L36 L4 L34 L38 L3 L123 L124 L125 | L1 L2 L120 L121 L122 L3 L37 L34 L6 L36 L39 | L45 L43 L42 L20 L12 L4 | L4 L118 L111 L112 L113 L119 L24 L23 L10 L35 | L6 L12 L21 L42 L41 L44 | L35 L11 L23 L22 L119 L102 L103 L104 L115 L6 | L13 L20 L14 L4 | L4 L100 L95 L94 L93 L101 L27 L26 L10 L116 L108 L109 L110 L117 | L6 L14 L21 L13 | L114 L105 L106 L107 L116 L11 L26 L25 L101 L88 L84 L87 L97 L6 | L15 L20 L16 L4 | L4 L82 L75 L73 L74 L83 L30 L29 L10 L98 L90 L91 L92 L99 | L6 L16 L21 L15 | L96 L86 L85 L89 L98 L11 L29 L28 L83 L66 L67 L76 L79 L6 | L17 L20 L18 L4 | L4 L64 L51 L50 L49 L65 L33 L32 L10 L81 L72 L71 L70 L80 | L6 L18 L21 L17 | L78 L77 L68 L69 L81 L11 L32 L31 L65 L48 L47 L46 L61 L6 | L19 L20 L5 L4 | L4 L7 L10 L62 L57 L58 L59 L63 | L6 L5 L21 L19 | L60 L54 L55 L56 L62 L11 L7 L6
extrude "Extrusion14" add sketch "Sketch1" along normal blind 2.5 contours L3 L2 L1 L0 | L125 L129 L123 L3 | L38 L34 L37 L3 | L125 L124 L123 L128 | L1 L2 L120 L121 L122 L3 L37 L34 L6 L36 L39 | L122 L126 L120 L3 | L122 L121 L120 L127
extrude "Extrusion15" add sketch "Sketch1" along normal blind 11.5 contours L125 L128 L123 L129 | L122 L127 L120 L126
properties part number "Distance_test_rig"
